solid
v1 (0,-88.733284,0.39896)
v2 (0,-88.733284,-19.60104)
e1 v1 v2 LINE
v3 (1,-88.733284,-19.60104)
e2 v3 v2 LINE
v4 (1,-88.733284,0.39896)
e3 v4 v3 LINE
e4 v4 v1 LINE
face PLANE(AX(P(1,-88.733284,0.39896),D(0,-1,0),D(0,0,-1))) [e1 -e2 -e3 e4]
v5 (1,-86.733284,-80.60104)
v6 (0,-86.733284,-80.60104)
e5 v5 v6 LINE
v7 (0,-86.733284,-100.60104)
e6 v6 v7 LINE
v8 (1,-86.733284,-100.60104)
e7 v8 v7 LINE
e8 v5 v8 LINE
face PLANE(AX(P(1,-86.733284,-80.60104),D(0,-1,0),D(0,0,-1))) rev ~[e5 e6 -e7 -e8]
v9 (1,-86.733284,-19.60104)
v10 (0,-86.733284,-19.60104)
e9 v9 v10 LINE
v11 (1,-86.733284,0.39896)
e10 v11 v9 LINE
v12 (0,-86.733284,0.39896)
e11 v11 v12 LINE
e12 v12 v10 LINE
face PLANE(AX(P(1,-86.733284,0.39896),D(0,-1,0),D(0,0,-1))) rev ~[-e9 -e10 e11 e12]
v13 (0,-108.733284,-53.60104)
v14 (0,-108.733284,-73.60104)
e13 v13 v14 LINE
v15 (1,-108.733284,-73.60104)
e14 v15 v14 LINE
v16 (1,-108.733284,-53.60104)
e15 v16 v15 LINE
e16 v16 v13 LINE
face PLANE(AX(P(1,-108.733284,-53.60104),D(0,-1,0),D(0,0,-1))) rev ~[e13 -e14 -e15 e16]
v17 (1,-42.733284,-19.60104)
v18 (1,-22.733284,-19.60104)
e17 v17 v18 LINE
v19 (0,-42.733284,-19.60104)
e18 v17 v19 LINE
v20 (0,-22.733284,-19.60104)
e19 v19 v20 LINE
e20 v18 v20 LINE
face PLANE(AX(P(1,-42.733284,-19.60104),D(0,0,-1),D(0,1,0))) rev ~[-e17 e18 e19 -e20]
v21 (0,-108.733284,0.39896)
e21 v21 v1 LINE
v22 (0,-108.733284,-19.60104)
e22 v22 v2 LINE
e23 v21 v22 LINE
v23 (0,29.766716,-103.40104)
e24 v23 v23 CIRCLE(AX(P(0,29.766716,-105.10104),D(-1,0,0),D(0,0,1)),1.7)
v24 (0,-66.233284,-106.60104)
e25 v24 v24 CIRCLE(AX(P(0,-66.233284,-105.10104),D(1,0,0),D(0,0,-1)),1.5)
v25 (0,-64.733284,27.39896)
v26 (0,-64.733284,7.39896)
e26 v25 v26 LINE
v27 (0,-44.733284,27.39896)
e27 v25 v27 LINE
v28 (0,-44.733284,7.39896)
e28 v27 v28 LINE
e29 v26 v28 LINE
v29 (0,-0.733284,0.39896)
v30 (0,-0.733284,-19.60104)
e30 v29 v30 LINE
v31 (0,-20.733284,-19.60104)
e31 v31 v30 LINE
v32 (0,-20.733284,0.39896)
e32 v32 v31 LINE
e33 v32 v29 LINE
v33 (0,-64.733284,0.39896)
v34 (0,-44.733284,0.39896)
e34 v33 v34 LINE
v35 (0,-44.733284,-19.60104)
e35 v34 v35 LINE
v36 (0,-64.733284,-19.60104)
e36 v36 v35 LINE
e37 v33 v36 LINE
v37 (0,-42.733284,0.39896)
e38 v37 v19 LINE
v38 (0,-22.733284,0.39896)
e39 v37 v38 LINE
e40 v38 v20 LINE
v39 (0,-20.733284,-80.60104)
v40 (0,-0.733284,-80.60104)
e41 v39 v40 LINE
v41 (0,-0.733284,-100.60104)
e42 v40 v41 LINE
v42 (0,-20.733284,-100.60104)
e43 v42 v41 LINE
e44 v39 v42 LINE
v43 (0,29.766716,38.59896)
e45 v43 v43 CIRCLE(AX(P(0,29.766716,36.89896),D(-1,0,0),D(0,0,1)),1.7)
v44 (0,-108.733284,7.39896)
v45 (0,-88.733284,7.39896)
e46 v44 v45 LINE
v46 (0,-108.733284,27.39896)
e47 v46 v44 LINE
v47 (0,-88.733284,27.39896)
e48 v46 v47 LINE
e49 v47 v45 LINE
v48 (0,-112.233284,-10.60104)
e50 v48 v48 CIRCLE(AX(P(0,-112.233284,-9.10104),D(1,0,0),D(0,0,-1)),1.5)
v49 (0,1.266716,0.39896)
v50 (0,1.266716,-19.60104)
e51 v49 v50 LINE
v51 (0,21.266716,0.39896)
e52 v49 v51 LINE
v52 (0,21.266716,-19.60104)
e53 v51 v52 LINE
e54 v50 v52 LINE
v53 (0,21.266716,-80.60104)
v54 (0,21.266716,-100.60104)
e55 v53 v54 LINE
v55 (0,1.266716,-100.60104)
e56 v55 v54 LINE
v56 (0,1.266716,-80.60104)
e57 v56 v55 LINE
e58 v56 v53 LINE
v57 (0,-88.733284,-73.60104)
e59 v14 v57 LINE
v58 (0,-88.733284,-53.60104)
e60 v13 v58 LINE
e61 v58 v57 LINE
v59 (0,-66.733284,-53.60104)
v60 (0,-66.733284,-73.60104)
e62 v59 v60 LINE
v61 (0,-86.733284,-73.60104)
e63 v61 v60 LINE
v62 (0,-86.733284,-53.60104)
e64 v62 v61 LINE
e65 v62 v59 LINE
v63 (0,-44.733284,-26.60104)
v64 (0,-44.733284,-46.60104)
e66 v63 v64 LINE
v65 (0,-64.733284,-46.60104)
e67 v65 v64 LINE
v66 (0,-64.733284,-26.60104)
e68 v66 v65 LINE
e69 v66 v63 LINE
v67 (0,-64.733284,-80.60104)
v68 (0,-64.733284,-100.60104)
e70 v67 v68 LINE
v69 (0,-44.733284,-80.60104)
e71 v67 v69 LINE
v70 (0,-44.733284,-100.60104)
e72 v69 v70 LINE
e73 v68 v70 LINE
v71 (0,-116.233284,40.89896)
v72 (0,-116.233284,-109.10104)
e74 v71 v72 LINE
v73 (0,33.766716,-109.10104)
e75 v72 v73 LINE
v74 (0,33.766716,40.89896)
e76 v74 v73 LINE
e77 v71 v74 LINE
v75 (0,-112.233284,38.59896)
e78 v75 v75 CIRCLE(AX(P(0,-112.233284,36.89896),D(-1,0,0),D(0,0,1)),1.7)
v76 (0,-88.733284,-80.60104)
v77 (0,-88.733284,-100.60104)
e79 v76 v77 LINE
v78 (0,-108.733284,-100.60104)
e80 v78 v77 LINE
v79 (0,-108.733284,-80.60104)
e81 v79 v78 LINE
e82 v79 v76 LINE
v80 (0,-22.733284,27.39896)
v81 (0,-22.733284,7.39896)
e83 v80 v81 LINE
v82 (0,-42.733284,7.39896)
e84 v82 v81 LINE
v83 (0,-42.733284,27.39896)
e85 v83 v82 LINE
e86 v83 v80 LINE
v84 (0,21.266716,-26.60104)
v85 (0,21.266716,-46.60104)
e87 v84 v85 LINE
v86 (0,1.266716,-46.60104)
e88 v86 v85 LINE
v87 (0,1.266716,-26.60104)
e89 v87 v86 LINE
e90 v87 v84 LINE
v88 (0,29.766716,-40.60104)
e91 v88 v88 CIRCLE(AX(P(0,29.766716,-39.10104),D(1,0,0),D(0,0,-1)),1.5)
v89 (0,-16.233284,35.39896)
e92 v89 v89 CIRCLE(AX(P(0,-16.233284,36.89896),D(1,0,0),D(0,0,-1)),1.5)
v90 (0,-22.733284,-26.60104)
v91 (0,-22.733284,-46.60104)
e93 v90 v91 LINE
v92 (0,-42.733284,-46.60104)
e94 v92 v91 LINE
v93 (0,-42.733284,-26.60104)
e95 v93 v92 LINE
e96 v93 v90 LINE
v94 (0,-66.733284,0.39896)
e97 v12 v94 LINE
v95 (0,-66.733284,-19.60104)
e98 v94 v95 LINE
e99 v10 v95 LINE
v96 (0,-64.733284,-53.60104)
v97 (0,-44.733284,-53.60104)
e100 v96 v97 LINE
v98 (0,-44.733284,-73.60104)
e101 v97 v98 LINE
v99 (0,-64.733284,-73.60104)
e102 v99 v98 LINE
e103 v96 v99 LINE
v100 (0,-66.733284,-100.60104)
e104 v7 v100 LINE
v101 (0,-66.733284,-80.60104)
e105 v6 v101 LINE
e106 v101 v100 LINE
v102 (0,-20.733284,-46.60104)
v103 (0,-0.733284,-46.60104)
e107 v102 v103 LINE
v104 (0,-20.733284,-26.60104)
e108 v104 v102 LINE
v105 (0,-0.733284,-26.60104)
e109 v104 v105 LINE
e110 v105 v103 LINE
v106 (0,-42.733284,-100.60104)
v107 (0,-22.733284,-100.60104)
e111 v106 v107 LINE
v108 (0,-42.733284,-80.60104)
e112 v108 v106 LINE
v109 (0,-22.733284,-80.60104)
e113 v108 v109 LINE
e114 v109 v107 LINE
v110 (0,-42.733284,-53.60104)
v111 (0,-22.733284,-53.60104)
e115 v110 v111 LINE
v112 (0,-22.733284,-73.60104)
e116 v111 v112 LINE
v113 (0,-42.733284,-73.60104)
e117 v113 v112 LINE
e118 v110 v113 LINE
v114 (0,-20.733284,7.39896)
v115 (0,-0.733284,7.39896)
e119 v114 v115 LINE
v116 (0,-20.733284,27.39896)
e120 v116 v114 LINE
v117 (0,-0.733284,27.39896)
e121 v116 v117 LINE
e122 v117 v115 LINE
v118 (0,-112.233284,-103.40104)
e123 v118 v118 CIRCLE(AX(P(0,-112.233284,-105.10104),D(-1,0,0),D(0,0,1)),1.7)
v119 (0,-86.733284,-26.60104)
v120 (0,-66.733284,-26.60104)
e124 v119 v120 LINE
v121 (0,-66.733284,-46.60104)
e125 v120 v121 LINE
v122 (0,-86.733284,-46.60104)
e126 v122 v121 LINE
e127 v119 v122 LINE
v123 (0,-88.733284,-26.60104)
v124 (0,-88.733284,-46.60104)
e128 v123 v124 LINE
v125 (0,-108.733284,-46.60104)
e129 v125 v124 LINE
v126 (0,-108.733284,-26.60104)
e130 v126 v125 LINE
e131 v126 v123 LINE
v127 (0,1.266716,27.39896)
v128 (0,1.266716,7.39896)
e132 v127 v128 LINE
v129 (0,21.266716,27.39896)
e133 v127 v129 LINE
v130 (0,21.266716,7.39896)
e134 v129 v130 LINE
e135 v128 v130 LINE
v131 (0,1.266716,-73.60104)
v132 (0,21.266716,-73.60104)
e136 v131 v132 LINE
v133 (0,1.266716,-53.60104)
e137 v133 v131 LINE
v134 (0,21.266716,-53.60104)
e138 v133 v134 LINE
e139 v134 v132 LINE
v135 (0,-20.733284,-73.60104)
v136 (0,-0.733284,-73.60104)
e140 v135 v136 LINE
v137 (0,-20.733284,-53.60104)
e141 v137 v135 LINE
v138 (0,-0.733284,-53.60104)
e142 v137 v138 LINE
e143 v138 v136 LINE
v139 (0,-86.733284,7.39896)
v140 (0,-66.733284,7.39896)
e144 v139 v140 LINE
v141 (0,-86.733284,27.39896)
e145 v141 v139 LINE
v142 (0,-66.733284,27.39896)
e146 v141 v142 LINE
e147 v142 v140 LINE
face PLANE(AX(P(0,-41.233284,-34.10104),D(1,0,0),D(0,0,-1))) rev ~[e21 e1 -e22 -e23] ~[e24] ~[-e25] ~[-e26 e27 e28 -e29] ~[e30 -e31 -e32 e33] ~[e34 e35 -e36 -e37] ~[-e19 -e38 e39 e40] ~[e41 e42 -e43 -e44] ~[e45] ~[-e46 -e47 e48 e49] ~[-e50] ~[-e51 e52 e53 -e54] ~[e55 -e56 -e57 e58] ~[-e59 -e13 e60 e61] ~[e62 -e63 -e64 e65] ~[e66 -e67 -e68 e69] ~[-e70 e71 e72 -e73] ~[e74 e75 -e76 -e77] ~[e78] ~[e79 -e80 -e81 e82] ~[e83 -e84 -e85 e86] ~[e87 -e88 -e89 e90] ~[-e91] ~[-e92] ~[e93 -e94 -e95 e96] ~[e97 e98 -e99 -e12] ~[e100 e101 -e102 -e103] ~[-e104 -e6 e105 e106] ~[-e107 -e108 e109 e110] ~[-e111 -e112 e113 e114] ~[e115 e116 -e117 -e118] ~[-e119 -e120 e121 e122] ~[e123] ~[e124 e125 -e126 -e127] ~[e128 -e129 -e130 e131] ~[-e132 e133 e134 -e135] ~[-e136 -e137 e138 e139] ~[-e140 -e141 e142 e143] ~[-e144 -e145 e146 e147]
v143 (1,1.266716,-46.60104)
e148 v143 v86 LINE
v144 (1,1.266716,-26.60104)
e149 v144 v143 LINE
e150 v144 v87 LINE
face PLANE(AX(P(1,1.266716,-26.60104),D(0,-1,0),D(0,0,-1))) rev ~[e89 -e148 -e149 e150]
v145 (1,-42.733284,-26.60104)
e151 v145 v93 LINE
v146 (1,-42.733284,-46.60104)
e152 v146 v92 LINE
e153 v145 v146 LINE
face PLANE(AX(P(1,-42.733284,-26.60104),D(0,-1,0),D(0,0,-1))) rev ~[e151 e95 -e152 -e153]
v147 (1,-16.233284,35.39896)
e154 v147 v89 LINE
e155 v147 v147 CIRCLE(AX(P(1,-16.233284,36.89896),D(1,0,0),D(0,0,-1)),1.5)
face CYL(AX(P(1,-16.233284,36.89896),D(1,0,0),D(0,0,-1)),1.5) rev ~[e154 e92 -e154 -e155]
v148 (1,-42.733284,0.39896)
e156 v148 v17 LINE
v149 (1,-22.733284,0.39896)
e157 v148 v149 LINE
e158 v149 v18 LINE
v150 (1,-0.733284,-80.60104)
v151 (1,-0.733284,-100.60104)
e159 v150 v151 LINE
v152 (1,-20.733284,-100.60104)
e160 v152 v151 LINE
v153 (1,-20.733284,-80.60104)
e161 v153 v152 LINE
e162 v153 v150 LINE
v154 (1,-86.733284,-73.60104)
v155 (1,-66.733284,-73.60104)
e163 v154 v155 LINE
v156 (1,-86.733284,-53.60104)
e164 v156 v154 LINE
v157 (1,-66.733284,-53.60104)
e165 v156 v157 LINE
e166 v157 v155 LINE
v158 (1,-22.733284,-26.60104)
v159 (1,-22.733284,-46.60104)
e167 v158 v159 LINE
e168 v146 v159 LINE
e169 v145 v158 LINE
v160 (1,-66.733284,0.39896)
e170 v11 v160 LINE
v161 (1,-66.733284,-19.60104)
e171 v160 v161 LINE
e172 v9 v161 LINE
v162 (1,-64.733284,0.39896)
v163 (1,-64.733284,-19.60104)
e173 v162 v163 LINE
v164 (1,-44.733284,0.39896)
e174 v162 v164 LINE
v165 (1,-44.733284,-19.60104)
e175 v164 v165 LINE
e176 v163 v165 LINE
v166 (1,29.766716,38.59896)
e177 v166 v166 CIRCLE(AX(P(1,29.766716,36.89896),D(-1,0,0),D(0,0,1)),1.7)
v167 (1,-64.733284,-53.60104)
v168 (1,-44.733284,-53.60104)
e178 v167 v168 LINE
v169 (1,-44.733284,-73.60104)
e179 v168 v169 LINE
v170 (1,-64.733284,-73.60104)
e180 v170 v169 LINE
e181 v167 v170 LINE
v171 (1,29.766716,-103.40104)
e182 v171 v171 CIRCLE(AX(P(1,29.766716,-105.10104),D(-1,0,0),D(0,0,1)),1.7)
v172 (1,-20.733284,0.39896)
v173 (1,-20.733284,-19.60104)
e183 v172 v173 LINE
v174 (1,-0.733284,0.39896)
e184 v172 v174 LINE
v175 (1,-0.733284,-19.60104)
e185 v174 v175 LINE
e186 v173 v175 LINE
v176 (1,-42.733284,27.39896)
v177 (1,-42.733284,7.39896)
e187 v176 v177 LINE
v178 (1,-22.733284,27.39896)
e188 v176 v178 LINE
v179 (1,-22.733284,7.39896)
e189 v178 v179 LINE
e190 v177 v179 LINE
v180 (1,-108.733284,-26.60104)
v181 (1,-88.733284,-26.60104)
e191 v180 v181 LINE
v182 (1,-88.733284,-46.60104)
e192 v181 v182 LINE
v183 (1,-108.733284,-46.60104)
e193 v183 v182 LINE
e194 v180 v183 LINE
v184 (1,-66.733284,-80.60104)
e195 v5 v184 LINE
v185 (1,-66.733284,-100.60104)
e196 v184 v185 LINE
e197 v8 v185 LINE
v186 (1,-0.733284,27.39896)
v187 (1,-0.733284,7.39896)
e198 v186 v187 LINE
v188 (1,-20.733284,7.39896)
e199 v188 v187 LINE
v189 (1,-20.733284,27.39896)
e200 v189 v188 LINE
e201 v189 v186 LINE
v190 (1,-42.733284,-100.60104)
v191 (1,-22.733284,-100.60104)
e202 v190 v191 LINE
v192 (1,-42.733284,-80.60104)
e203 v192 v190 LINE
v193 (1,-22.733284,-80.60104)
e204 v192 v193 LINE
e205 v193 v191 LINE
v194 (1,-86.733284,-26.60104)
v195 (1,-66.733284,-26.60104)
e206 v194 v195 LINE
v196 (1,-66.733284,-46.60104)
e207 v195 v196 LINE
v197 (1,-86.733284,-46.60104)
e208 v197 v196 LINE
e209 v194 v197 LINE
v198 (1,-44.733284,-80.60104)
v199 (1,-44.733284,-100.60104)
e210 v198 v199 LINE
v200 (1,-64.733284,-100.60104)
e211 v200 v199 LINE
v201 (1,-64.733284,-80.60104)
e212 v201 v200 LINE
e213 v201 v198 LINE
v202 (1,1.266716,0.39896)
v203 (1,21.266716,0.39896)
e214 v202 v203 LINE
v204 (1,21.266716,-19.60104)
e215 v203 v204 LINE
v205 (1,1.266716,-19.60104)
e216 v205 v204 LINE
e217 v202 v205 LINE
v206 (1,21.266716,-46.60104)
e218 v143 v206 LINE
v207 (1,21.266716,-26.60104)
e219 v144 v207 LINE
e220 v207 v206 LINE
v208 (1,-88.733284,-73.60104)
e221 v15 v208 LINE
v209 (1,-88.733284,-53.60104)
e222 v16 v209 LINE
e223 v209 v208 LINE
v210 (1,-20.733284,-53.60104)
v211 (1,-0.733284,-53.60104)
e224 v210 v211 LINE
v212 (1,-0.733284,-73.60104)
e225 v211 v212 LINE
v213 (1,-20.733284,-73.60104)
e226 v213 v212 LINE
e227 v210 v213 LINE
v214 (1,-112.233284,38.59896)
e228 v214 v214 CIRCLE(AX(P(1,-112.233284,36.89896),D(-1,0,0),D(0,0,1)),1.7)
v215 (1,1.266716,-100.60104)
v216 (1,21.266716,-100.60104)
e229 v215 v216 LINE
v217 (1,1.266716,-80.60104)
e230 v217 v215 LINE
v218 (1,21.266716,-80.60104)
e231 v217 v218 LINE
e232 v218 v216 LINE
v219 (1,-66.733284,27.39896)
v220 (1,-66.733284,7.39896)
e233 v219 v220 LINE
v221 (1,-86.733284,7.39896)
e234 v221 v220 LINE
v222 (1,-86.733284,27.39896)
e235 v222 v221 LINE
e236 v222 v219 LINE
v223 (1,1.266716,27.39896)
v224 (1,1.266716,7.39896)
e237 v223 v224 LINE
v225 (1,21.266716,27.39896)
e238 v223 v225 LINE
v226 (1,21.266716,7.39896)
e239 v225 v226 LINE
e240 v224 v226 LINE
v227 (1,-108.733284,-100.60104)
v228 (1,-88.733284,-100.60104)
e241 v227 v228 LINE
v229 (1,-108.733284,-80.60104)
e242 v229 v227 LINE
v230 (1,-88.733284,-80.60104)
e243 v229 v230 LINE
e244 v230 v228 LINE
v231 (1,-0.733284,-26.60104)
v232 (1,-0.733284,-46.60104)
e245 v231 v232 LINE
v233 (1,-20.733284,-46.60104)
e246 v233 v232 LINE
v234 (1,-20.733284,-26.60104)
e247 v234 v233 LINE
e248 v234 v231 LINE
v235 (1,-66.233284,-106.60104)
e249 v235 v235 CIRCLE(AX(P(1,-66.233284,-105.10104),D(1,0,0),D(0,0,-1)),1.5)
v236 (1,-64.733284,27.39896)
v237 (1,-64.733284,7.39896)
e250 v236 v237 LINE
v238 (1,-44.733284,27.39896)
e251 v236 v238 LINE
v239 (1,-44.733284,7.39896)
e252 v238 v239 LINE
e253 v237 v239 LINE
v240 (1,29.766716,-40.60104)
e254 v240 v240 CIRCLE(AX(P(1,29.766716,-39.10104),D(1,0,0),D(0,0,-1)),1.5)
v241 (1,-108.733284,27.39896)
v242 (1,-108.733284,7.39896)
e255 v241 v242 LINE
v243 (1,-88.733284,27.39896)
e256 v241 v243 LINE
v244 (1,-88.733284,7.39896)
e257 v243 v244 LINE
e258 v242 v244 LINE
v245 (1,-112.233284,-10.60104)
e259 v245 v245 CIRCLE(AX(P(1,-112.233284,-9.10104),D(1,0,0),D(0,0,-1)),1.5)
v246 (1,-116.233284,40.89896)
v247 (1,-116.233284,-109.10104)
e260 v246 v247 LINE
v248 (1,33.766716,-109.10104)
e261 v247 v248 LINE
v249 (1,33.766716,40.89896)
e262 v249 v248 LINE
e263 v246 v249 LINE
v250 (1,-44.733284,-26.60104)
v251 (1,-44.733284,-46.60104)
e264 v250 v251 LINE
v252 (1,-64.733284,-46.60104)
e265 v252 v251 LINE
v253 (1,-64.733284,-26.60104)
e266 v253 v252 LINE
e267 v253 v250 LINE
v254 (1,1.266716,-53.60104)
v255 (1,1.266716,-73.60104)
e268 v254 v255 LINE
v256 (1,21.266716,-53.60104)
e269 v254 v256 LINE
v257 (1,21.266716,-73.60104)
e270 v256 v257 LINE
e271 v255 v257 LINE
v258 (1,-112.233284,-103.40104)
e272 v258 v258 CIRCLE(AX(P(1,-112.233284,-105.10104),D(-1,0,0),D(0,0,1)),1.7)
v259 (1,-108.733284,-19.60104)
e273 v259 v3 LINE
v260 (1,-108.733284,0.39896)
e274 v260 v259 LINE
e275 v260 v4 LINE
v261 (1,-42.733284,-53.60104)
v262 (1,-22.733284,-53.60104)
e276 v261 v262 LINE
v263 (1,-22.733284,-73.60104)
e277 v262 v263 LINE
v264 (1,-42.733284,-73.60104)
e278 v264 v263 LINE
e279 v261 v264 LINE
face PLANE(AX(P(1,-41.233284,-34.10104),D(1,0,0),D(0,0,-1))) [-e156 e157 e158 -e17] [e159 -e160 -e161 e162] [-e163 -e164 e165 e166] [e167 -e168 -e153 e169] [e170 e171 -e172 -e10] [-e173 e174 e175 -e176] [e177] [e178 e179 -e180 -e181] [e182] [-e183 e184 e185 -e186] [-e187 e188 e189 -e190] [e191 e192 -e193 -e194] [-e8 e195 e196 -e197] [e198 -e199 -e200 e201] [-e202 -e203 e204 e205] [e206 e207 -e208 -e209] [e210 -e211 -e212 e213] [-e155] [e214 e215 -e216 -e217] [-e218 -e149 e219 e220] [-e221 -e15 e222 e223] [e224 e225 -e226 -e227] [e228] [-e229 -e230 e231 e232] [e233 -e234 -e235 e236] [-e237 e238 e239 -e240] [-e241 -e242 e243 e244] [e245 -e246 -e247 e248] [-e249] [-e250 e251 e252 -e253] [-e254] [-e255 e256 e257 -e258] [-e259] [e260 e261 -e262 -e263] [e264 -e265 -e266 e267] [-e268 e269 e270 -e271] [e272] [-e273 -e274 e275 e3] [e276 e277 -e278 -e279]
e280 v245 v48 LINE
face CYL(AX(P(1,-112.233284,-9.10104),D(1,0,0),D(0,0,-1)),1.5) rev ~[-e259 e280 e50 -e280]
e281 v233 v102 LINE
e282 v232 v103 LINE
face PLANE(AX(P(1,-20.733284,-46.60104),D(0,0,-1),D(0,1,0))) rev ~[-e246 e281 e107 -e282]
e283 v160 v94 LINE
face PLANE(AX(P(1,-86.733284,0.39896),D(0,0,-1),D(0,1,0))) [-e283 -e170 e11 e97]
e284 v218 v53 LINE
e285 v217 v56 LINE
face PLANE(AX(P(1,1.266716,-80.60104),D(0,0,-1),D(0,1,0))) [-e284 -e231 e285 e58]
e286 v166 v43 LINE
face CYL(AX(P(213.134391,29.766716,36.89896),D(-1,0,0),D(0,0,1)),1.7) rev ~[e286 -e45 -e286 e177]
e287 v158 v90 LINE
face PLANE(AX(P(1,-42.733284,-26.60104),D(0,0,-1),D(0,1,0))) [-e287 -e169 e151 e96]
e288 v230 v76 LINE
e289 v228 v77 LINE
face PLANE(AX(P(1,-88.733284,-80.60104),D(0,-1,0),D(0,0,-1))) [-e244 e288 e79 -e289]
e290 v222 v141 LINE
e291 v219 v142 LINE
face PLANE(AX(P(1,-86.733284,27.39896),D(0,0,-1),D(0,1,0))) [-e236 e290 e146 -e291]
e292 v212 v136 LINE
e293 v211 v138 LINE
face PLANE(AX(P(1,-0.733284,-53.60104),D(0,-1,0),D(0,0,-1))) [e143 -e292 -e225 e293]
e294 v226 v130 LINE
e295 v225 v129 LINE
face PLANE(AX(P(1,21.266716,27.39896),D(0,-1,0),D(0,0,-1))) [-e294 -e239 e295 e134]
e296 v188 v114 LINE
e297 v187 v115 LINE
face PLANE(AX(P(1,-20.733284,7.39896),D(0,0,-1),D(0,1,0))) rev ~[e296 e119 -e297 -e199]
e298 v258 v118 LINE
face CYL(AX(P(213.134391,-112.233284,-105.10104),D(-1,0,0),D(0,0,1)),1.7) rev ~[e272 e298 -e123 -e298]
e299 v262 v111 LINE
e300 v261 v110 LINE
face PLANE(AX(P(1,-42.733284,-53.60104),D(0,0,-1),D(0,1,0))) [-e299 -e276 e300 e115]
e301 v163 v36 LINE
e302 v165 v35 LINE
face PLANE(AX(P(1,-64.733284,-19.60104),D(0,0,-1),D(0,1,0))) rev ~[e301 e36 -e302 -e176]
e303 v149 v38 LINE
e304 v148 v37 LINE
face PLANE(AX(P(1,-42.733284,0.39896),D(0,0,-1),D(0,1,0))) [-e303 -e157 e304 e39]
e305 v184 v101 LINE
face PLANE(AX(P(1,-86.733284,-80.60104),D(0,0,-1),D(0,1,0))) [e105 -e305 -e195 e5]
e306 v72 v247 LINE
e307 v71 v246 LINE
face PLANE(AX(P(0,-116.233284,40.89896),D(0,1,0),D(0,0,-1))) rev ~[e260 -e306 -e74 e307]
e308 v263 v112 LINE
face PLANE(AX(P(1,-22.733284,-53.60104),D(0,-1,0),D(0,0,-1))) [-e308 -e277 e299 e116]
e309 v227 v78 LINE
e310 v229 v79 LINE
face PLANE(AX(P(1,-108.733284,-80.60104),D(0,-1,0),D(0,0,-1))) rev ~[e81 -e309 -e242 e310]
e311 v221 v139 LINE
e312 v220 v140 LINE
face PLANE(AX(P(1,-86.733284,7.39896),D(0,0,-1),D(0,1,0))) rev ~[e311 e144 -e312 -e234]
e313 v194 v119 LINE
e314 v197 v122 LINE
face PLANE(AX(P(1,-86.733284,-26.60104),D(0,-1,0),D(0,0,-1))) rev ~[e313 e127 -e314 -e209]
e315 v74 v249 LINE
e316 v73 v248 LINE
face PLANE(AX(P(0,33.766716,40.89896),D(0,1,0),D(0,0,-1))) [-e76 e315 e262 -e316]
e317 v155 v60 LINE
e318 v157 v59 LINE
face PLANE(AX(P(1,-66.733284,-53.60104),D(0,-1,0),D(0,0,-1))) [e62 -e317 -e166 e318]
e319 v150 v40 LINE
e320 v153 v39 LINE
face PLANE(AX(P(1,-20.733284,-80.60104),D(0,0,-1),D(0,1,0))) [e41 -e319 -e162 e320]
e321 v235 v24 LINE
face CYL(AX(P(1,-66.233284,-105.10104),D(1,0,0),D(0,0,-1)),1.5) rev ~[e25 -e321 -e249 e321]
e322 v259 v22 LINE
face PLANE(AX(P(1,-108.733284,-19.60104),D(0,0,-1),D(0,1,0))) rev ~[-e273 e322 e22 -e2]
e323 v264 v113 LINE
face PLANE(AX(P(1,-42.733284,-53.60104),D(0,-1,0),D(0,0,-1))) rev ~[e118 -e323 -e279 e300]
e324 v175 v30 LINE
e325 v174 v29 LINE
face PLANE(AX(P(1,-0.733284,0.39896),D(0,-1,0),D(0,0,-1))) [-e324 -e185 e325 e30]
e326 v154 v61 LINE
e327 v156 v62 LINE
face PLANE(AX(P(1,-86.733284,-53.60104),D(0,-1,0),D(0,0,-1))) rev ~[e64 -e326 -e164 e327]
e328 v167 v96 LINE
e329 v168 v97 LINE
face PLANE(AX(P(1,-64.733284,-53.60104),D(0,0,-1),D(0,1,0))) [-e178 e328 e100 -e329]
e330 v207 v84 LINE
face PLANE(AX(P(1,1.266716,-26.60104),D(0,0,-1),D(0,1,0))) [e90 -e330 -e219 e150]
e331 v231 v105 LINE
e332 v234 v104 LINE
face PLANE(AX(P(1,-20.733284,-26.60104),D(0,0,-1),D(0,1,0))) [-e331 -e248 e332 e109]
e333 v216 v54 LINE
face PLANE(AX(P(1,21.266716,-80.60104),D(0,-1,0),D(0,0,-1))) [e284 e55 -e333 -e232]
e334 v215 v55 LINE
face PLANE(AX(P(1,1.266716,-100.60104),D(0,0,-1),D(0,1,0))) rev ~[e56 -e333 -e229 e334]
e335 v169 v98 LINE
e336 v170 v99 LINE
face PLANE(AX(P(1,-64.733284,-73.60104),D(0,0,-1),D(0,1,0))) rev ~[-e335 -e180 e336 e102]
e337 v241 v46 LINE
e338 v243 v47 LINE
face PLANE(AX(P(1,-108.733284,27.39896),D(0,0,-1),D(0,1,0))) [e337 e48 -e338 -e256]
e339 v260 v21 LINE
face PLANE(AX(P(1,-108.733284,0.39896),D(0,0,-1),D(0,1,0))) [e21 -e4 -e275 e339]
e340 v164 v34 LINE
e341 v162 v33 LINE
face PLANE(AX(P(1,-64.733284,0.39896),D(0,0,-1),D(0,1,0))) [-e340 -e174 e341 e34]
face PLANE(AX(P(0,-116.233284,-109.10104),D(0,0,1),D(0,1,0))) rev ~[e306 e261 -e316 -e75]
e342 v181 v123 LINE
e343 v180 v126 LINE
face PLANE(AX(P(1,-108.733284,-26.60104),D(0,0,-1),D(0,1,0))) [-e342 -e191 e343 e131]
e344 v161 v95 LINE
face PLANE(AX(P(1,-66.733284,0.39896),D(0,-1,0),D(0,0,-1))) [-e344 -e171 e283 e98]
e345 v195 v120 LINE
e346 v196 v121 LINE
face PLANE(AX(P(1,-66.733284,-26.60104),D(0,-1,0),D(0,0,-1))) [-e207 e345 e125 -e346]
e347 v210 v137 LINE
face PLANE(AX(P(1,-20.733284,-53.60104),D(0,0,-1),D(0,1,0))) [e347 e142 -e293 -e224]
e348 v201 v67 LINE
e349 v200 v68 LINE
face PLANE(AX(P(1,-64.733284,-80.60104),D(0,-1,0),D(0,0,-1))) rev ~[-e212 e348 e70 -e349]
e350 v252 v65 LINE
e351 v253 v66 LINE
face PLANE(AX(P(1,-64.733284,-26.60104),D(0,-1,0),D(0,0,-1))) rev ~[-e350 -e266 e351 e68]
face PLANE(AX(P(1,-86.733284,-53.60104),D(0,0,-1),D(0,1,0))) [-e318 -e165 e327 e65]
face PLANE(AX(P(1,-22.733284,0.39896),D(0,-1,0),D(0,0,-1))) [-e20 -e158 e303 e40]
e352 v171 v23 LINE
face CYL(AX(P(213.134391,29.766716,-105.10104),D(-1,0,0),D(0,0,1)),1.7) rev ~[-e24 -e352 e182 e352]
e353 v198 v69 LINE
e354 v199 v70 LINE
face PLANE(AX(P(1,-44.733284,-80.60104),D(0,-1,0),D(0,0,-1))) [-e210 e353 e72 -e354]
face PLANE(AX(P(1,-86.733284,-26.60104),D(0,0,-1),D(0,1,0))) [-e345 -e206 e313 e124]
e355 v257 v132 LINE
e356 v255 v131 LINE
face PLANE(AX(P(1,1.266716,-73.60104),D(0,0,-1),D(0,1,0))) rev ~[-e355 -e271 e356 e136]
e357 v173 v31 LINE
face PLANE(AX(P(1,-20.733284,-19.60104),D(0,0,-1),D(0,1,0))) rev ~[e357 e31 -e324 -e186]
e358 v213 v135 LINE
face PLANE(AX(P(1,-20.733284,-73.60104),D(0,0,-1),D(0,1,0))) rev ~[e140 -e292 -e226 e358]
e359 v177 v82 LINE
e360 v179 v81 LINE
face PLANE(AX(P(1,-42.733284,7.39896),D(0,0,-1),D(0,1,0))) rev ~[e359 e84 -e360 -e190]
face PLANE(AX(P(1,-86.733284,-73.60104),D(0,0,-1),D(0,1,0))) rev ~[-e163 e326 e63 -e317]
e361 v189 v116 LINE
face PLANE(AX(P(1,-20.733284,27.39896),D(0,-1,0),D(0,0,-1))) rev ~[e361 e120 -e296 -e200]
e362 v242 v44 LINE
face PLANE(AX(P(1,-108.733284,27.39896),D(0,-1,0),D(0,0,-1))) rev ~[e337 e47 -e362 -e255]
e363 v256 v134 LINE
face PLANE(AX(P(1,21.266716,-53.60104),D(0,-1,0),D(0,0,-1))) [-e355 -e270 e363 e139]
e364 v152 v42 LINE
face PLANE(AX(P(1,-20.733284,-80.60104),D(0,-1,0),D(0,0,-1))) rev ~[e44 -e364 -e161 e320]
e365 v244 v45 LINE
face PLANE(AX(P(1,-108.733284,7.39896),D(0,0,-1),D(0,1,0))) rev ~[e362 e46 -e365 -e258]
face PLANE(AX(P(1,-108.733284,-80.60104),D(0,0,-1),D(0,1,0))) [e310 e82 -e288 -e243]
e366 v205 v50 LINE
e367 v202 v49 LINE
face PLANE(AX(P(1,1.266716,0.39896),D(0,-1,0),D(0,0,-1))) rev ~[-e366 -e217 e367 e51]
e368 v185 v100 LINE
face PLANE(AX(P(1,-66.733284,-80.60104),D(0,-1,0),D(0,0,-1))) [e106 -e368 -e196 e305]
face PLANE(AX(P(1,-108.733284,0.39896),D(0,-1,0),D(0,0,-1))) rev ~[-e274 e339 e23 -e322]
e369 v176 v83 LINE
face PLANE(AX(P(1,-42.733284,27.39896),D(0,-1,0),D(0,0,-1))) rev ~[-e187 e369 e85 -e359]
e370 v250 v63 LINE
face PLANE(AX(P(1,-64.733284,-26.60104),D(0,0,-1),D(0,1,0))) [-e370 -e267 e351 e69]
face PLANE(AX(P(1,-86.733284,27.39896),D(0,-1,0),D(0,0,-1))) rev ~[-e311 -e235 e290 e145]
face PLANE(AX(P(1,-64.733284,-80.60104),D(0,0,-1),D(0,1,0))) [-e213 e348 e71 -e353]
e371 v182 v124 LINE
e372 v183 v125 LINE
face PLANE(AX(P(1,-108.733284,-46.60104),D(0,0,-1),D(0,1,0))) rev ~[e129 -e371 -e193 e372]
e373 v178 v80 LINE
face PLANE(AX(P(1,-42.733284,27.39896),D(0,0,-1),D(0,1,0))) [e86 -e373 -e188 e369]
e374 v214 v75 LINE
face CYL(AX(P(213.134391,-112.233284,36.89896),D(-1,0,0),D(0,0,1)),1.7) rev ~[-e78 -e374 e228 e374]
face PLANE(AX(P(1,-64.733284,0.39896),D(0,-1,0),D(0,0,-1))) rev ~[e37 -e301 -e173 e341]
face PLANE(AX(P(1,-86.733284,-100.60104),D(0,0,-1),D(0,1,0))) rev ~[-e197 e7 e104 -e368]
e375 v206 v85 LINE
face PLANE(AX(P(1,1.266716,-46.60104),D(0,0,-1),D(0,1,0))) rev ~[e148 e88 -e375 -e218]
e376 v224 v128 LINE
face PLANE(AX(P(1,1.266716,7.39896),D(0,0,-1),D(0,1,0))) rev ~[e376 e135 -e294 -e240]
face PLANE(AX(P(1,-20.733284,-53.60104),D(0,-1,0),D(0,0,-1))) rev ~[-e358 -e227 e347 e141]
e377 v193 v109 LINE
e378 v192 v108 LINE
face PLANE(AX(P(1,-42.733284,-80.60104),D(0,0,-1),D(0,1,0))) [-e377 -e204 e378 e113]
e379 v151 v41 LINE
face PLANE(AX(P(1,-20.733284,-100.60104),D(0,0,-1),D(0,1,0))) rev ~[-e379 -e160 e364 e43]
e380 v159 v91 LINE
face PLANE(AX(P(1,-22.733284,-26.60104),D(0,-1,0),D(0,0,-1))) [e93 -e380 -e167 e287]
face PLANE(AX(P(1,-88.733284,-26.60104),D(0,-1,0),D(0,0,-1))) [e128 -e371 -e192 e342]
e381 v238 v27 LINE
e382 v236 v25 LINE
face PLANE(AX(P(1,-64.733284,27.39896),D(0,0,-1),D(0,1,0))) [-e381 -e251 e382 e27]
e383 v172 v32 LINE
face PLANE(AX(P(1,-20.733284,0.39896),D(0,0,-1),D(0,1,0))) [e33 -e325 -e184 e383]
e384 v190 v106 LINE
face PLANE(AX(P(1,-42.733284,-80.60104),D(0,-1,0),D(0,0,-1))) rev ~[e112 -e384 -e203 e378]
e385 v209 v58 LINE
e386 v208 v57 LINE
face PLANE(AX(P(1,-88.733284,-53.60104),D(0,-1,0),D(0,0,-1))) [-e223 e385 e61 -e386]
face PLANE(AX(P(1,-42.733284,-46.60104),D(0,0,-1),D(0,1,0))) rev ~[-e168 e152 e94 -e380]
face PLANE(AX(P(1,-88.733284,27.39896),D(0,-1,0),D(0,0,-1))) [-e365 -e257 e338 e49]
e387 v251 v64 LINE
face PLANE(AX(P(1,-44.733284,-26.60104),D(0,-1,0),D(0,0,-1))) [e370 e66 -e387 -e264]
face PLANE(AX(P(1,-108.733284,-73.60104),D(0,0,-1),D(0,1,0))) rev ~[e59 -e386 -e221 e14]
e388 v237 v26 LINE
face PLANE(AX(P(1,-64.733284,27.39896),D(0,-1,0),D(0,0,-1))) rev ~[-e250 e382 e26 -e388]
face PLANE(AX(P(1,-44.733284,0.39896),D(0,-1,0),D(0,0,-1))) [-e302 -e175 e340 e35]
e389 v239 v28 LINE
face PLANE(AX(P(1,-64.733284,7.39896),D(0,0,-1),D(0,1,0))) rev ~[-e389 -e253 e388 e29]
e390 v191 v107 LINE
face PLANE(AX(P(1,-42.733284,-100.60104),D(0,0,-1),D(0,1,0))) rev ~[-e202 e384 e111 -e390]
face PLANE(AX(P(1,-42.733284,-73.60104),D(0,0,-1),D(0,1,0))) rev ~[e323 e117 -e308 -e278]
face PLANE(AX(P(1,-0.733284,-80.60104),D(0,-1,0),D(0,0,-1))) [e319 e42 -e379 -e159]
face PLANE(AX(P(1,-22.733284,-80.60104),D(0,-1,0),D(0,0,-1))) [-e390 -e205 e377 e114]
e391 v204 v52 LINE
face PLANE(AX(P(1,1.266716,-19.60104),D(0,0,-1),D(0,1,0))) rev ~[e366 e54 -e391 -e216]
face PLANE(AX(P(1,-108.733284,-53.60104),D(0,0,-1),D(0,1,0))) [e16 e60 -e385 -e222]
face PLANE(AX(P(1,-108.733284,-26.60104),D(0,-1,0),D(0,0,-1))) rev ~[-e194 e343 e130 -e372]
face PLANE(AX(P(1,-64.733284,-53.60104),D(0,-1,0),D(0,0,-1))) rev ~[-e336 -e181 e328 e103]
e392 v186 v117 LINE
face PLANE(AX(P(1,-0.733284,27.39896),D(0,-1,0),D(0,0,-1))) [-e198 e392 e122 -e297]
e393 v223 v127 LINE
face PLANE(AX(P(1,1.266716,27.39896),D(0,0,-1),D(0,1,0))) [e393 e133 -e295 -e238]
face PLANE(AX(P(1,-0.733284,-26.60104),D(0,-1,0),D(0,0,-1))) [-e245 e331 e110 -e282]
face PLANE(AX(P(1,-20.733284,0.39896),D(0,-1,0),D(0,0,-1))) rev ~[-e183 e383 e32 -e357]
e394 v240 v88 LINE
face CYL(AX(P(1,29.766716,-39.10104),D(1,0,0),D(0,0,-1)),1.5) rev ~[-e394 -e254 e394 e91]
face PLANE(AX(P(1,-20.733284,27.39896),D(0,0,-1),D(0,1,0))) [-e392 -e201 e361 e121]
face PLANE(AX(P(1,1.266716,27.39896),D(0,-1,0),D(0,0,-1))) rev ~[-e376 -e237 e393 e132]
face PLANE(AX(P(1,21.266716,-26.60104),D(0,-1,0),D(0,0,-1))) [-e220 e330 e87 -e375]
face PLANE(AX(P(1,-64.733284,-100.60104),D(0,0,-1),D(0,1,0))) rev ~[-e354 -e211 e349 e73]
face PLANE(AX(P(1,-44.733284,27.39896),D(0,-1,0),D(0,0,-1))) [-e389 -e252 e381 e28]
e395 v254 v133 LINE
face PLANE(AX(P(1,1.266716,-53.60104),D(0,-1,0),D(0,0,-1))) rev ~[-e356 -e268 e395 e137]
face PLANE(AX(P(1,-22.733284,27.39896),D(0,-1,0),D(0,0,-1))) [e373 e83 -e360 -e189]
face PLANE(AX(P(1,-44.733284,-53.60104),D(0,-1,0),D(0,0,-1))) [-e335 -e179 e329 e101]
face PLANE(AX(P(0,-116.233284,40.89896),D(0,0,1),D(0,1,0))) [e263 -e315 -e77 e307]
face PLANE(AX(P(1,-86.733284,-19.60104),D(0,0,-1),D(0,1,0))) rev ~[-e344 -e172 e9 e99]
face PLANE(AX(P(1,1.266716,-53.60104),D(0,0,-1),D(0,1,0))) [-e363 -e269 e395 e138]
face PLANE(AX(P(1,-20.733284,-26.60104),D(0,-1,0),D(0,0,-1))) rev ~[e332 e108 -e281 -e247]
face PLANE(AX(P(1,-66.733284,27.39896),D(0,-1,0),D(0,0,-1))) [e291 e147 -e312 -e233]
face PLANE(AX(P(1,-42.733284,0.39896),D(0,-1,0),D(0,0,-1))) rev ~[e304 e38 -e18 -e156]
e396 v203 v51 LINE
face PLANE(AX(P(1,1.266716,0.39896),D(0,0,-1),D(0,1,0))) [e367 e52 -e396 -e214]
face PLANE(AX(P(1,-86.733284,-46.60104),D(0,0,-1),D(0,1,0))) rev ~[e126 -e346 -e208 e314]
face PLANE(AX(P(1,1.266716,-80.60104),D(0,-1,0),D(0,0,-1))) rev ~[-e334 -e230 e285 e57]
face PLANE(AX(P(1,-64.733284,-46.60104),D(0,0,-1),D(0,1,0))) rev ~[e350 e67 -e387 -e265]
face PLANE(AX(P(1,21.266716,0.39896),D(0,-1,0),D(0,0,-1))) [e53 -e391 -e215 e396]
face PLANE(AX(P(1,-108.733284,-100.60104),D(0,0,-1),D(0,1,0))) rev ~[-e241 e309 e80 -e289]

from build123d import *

# Parameters (mm, degrees)
SKETCH2_W            = 150
SKETCH2_H            = 150
BOSS_EXTRUDE1_DEPTH  = 1
SKETCH4_W            = 20
SKETCH4_H            = 20
CUT_EXTRUDE1_DEPTH   = 160.418359102
LPATTERN1_COUNT      = 5
LPATTERN1_PITCH      = 27
LPATTERN1_COUNT_DIR2 = 6
LPATTERN1_PITCH_DIR2 = 22
M3_CLEARANCE_HOLE1_D = 3.4
SKETCH8_R            = 1.5
CUT_EXTRUDE2_DEPTH   = 160.418359102


with BuildPart() as part:
    # Sketch2 → Boss-Extrude1 (new body)
    with BuildSketch(Plane(origin=(0, 0, 0), x_dir=(0, 0, -1), z_dir=(1, 0, 0))):
        with Locations((34.101040119, -41.233283804)):
            Rectangle(SKETCH2_W, SKETCH2_H)
    extrude(amount=BOSS_EXTRUDE1_DEPTH)

    # Sketch4 → Cut-Extrude1 (cut, through all)
    with BuildSketch(Plane(origin=(1, 0, 0), x_dir=(0, 0, -1), z_dir=(1, 0, 0))):
        with Locations((-17.398959881, 11.266716196)):
            Rectangle(SKETCH4_W, SKETCH4_H)
    cut_extrude1 = extrude(amount=-CUT_EXTRUDE1_DEPTH, mode=Mode.SUBTRACT)

    # LPattern1: Cut-Extrude1 5 × 6
    with Locations(*[(0, -j * LPATTERN1_PITCH_DIR2, -i * LPATTERN1_PITCH) for i in range(LPATTERN1_COUNT) for j in range(LPATTERN1_COUNT_DIR2) if (i, j) != (0, 0)]):
        add(cut_extrude1, mode=Mode.SUBTRACT)

    # M3 Clearance Hole1 (through all)
    with Locations(Plane(origin=(1, 0, 0), x_dir=(0, 0, -1), z_dir=(1, 0, 0))):
        with Locations((-36.898959881, 29.766716196), (105.101040119, 29.766716196), (105.101040119, -112.233283804), (-36.898959881, -112.233283804)):
            Hole(M3_CLEARANCE_HOLE1_D / 2)

    # Sketch8 → Cut-Extrude2 (cut, through all)
    with BuildSketch(Plane(origin=(1, 0, 0), x_dir=(0, 0, -1), z_dir=(1, 0, 0))):
        with Locations((39.101040119, 29.766716196)):
            Circle(SKETCH8_R)
        with Locations((-36.898959881, -16.233283804)):
            Circle(SKETCH8_R)
        with Locations((9.101040119, -112.233283804)):
            Circle(SKETCH8_R)
        with Locations((105.101040119, -66.233283804)):
            Circle(SKETCH8_R)
    extrude(amount=-CUT_EXTRUDE2_DEPTH, mode=Mode.SUBTRACT)


solid = part.part
